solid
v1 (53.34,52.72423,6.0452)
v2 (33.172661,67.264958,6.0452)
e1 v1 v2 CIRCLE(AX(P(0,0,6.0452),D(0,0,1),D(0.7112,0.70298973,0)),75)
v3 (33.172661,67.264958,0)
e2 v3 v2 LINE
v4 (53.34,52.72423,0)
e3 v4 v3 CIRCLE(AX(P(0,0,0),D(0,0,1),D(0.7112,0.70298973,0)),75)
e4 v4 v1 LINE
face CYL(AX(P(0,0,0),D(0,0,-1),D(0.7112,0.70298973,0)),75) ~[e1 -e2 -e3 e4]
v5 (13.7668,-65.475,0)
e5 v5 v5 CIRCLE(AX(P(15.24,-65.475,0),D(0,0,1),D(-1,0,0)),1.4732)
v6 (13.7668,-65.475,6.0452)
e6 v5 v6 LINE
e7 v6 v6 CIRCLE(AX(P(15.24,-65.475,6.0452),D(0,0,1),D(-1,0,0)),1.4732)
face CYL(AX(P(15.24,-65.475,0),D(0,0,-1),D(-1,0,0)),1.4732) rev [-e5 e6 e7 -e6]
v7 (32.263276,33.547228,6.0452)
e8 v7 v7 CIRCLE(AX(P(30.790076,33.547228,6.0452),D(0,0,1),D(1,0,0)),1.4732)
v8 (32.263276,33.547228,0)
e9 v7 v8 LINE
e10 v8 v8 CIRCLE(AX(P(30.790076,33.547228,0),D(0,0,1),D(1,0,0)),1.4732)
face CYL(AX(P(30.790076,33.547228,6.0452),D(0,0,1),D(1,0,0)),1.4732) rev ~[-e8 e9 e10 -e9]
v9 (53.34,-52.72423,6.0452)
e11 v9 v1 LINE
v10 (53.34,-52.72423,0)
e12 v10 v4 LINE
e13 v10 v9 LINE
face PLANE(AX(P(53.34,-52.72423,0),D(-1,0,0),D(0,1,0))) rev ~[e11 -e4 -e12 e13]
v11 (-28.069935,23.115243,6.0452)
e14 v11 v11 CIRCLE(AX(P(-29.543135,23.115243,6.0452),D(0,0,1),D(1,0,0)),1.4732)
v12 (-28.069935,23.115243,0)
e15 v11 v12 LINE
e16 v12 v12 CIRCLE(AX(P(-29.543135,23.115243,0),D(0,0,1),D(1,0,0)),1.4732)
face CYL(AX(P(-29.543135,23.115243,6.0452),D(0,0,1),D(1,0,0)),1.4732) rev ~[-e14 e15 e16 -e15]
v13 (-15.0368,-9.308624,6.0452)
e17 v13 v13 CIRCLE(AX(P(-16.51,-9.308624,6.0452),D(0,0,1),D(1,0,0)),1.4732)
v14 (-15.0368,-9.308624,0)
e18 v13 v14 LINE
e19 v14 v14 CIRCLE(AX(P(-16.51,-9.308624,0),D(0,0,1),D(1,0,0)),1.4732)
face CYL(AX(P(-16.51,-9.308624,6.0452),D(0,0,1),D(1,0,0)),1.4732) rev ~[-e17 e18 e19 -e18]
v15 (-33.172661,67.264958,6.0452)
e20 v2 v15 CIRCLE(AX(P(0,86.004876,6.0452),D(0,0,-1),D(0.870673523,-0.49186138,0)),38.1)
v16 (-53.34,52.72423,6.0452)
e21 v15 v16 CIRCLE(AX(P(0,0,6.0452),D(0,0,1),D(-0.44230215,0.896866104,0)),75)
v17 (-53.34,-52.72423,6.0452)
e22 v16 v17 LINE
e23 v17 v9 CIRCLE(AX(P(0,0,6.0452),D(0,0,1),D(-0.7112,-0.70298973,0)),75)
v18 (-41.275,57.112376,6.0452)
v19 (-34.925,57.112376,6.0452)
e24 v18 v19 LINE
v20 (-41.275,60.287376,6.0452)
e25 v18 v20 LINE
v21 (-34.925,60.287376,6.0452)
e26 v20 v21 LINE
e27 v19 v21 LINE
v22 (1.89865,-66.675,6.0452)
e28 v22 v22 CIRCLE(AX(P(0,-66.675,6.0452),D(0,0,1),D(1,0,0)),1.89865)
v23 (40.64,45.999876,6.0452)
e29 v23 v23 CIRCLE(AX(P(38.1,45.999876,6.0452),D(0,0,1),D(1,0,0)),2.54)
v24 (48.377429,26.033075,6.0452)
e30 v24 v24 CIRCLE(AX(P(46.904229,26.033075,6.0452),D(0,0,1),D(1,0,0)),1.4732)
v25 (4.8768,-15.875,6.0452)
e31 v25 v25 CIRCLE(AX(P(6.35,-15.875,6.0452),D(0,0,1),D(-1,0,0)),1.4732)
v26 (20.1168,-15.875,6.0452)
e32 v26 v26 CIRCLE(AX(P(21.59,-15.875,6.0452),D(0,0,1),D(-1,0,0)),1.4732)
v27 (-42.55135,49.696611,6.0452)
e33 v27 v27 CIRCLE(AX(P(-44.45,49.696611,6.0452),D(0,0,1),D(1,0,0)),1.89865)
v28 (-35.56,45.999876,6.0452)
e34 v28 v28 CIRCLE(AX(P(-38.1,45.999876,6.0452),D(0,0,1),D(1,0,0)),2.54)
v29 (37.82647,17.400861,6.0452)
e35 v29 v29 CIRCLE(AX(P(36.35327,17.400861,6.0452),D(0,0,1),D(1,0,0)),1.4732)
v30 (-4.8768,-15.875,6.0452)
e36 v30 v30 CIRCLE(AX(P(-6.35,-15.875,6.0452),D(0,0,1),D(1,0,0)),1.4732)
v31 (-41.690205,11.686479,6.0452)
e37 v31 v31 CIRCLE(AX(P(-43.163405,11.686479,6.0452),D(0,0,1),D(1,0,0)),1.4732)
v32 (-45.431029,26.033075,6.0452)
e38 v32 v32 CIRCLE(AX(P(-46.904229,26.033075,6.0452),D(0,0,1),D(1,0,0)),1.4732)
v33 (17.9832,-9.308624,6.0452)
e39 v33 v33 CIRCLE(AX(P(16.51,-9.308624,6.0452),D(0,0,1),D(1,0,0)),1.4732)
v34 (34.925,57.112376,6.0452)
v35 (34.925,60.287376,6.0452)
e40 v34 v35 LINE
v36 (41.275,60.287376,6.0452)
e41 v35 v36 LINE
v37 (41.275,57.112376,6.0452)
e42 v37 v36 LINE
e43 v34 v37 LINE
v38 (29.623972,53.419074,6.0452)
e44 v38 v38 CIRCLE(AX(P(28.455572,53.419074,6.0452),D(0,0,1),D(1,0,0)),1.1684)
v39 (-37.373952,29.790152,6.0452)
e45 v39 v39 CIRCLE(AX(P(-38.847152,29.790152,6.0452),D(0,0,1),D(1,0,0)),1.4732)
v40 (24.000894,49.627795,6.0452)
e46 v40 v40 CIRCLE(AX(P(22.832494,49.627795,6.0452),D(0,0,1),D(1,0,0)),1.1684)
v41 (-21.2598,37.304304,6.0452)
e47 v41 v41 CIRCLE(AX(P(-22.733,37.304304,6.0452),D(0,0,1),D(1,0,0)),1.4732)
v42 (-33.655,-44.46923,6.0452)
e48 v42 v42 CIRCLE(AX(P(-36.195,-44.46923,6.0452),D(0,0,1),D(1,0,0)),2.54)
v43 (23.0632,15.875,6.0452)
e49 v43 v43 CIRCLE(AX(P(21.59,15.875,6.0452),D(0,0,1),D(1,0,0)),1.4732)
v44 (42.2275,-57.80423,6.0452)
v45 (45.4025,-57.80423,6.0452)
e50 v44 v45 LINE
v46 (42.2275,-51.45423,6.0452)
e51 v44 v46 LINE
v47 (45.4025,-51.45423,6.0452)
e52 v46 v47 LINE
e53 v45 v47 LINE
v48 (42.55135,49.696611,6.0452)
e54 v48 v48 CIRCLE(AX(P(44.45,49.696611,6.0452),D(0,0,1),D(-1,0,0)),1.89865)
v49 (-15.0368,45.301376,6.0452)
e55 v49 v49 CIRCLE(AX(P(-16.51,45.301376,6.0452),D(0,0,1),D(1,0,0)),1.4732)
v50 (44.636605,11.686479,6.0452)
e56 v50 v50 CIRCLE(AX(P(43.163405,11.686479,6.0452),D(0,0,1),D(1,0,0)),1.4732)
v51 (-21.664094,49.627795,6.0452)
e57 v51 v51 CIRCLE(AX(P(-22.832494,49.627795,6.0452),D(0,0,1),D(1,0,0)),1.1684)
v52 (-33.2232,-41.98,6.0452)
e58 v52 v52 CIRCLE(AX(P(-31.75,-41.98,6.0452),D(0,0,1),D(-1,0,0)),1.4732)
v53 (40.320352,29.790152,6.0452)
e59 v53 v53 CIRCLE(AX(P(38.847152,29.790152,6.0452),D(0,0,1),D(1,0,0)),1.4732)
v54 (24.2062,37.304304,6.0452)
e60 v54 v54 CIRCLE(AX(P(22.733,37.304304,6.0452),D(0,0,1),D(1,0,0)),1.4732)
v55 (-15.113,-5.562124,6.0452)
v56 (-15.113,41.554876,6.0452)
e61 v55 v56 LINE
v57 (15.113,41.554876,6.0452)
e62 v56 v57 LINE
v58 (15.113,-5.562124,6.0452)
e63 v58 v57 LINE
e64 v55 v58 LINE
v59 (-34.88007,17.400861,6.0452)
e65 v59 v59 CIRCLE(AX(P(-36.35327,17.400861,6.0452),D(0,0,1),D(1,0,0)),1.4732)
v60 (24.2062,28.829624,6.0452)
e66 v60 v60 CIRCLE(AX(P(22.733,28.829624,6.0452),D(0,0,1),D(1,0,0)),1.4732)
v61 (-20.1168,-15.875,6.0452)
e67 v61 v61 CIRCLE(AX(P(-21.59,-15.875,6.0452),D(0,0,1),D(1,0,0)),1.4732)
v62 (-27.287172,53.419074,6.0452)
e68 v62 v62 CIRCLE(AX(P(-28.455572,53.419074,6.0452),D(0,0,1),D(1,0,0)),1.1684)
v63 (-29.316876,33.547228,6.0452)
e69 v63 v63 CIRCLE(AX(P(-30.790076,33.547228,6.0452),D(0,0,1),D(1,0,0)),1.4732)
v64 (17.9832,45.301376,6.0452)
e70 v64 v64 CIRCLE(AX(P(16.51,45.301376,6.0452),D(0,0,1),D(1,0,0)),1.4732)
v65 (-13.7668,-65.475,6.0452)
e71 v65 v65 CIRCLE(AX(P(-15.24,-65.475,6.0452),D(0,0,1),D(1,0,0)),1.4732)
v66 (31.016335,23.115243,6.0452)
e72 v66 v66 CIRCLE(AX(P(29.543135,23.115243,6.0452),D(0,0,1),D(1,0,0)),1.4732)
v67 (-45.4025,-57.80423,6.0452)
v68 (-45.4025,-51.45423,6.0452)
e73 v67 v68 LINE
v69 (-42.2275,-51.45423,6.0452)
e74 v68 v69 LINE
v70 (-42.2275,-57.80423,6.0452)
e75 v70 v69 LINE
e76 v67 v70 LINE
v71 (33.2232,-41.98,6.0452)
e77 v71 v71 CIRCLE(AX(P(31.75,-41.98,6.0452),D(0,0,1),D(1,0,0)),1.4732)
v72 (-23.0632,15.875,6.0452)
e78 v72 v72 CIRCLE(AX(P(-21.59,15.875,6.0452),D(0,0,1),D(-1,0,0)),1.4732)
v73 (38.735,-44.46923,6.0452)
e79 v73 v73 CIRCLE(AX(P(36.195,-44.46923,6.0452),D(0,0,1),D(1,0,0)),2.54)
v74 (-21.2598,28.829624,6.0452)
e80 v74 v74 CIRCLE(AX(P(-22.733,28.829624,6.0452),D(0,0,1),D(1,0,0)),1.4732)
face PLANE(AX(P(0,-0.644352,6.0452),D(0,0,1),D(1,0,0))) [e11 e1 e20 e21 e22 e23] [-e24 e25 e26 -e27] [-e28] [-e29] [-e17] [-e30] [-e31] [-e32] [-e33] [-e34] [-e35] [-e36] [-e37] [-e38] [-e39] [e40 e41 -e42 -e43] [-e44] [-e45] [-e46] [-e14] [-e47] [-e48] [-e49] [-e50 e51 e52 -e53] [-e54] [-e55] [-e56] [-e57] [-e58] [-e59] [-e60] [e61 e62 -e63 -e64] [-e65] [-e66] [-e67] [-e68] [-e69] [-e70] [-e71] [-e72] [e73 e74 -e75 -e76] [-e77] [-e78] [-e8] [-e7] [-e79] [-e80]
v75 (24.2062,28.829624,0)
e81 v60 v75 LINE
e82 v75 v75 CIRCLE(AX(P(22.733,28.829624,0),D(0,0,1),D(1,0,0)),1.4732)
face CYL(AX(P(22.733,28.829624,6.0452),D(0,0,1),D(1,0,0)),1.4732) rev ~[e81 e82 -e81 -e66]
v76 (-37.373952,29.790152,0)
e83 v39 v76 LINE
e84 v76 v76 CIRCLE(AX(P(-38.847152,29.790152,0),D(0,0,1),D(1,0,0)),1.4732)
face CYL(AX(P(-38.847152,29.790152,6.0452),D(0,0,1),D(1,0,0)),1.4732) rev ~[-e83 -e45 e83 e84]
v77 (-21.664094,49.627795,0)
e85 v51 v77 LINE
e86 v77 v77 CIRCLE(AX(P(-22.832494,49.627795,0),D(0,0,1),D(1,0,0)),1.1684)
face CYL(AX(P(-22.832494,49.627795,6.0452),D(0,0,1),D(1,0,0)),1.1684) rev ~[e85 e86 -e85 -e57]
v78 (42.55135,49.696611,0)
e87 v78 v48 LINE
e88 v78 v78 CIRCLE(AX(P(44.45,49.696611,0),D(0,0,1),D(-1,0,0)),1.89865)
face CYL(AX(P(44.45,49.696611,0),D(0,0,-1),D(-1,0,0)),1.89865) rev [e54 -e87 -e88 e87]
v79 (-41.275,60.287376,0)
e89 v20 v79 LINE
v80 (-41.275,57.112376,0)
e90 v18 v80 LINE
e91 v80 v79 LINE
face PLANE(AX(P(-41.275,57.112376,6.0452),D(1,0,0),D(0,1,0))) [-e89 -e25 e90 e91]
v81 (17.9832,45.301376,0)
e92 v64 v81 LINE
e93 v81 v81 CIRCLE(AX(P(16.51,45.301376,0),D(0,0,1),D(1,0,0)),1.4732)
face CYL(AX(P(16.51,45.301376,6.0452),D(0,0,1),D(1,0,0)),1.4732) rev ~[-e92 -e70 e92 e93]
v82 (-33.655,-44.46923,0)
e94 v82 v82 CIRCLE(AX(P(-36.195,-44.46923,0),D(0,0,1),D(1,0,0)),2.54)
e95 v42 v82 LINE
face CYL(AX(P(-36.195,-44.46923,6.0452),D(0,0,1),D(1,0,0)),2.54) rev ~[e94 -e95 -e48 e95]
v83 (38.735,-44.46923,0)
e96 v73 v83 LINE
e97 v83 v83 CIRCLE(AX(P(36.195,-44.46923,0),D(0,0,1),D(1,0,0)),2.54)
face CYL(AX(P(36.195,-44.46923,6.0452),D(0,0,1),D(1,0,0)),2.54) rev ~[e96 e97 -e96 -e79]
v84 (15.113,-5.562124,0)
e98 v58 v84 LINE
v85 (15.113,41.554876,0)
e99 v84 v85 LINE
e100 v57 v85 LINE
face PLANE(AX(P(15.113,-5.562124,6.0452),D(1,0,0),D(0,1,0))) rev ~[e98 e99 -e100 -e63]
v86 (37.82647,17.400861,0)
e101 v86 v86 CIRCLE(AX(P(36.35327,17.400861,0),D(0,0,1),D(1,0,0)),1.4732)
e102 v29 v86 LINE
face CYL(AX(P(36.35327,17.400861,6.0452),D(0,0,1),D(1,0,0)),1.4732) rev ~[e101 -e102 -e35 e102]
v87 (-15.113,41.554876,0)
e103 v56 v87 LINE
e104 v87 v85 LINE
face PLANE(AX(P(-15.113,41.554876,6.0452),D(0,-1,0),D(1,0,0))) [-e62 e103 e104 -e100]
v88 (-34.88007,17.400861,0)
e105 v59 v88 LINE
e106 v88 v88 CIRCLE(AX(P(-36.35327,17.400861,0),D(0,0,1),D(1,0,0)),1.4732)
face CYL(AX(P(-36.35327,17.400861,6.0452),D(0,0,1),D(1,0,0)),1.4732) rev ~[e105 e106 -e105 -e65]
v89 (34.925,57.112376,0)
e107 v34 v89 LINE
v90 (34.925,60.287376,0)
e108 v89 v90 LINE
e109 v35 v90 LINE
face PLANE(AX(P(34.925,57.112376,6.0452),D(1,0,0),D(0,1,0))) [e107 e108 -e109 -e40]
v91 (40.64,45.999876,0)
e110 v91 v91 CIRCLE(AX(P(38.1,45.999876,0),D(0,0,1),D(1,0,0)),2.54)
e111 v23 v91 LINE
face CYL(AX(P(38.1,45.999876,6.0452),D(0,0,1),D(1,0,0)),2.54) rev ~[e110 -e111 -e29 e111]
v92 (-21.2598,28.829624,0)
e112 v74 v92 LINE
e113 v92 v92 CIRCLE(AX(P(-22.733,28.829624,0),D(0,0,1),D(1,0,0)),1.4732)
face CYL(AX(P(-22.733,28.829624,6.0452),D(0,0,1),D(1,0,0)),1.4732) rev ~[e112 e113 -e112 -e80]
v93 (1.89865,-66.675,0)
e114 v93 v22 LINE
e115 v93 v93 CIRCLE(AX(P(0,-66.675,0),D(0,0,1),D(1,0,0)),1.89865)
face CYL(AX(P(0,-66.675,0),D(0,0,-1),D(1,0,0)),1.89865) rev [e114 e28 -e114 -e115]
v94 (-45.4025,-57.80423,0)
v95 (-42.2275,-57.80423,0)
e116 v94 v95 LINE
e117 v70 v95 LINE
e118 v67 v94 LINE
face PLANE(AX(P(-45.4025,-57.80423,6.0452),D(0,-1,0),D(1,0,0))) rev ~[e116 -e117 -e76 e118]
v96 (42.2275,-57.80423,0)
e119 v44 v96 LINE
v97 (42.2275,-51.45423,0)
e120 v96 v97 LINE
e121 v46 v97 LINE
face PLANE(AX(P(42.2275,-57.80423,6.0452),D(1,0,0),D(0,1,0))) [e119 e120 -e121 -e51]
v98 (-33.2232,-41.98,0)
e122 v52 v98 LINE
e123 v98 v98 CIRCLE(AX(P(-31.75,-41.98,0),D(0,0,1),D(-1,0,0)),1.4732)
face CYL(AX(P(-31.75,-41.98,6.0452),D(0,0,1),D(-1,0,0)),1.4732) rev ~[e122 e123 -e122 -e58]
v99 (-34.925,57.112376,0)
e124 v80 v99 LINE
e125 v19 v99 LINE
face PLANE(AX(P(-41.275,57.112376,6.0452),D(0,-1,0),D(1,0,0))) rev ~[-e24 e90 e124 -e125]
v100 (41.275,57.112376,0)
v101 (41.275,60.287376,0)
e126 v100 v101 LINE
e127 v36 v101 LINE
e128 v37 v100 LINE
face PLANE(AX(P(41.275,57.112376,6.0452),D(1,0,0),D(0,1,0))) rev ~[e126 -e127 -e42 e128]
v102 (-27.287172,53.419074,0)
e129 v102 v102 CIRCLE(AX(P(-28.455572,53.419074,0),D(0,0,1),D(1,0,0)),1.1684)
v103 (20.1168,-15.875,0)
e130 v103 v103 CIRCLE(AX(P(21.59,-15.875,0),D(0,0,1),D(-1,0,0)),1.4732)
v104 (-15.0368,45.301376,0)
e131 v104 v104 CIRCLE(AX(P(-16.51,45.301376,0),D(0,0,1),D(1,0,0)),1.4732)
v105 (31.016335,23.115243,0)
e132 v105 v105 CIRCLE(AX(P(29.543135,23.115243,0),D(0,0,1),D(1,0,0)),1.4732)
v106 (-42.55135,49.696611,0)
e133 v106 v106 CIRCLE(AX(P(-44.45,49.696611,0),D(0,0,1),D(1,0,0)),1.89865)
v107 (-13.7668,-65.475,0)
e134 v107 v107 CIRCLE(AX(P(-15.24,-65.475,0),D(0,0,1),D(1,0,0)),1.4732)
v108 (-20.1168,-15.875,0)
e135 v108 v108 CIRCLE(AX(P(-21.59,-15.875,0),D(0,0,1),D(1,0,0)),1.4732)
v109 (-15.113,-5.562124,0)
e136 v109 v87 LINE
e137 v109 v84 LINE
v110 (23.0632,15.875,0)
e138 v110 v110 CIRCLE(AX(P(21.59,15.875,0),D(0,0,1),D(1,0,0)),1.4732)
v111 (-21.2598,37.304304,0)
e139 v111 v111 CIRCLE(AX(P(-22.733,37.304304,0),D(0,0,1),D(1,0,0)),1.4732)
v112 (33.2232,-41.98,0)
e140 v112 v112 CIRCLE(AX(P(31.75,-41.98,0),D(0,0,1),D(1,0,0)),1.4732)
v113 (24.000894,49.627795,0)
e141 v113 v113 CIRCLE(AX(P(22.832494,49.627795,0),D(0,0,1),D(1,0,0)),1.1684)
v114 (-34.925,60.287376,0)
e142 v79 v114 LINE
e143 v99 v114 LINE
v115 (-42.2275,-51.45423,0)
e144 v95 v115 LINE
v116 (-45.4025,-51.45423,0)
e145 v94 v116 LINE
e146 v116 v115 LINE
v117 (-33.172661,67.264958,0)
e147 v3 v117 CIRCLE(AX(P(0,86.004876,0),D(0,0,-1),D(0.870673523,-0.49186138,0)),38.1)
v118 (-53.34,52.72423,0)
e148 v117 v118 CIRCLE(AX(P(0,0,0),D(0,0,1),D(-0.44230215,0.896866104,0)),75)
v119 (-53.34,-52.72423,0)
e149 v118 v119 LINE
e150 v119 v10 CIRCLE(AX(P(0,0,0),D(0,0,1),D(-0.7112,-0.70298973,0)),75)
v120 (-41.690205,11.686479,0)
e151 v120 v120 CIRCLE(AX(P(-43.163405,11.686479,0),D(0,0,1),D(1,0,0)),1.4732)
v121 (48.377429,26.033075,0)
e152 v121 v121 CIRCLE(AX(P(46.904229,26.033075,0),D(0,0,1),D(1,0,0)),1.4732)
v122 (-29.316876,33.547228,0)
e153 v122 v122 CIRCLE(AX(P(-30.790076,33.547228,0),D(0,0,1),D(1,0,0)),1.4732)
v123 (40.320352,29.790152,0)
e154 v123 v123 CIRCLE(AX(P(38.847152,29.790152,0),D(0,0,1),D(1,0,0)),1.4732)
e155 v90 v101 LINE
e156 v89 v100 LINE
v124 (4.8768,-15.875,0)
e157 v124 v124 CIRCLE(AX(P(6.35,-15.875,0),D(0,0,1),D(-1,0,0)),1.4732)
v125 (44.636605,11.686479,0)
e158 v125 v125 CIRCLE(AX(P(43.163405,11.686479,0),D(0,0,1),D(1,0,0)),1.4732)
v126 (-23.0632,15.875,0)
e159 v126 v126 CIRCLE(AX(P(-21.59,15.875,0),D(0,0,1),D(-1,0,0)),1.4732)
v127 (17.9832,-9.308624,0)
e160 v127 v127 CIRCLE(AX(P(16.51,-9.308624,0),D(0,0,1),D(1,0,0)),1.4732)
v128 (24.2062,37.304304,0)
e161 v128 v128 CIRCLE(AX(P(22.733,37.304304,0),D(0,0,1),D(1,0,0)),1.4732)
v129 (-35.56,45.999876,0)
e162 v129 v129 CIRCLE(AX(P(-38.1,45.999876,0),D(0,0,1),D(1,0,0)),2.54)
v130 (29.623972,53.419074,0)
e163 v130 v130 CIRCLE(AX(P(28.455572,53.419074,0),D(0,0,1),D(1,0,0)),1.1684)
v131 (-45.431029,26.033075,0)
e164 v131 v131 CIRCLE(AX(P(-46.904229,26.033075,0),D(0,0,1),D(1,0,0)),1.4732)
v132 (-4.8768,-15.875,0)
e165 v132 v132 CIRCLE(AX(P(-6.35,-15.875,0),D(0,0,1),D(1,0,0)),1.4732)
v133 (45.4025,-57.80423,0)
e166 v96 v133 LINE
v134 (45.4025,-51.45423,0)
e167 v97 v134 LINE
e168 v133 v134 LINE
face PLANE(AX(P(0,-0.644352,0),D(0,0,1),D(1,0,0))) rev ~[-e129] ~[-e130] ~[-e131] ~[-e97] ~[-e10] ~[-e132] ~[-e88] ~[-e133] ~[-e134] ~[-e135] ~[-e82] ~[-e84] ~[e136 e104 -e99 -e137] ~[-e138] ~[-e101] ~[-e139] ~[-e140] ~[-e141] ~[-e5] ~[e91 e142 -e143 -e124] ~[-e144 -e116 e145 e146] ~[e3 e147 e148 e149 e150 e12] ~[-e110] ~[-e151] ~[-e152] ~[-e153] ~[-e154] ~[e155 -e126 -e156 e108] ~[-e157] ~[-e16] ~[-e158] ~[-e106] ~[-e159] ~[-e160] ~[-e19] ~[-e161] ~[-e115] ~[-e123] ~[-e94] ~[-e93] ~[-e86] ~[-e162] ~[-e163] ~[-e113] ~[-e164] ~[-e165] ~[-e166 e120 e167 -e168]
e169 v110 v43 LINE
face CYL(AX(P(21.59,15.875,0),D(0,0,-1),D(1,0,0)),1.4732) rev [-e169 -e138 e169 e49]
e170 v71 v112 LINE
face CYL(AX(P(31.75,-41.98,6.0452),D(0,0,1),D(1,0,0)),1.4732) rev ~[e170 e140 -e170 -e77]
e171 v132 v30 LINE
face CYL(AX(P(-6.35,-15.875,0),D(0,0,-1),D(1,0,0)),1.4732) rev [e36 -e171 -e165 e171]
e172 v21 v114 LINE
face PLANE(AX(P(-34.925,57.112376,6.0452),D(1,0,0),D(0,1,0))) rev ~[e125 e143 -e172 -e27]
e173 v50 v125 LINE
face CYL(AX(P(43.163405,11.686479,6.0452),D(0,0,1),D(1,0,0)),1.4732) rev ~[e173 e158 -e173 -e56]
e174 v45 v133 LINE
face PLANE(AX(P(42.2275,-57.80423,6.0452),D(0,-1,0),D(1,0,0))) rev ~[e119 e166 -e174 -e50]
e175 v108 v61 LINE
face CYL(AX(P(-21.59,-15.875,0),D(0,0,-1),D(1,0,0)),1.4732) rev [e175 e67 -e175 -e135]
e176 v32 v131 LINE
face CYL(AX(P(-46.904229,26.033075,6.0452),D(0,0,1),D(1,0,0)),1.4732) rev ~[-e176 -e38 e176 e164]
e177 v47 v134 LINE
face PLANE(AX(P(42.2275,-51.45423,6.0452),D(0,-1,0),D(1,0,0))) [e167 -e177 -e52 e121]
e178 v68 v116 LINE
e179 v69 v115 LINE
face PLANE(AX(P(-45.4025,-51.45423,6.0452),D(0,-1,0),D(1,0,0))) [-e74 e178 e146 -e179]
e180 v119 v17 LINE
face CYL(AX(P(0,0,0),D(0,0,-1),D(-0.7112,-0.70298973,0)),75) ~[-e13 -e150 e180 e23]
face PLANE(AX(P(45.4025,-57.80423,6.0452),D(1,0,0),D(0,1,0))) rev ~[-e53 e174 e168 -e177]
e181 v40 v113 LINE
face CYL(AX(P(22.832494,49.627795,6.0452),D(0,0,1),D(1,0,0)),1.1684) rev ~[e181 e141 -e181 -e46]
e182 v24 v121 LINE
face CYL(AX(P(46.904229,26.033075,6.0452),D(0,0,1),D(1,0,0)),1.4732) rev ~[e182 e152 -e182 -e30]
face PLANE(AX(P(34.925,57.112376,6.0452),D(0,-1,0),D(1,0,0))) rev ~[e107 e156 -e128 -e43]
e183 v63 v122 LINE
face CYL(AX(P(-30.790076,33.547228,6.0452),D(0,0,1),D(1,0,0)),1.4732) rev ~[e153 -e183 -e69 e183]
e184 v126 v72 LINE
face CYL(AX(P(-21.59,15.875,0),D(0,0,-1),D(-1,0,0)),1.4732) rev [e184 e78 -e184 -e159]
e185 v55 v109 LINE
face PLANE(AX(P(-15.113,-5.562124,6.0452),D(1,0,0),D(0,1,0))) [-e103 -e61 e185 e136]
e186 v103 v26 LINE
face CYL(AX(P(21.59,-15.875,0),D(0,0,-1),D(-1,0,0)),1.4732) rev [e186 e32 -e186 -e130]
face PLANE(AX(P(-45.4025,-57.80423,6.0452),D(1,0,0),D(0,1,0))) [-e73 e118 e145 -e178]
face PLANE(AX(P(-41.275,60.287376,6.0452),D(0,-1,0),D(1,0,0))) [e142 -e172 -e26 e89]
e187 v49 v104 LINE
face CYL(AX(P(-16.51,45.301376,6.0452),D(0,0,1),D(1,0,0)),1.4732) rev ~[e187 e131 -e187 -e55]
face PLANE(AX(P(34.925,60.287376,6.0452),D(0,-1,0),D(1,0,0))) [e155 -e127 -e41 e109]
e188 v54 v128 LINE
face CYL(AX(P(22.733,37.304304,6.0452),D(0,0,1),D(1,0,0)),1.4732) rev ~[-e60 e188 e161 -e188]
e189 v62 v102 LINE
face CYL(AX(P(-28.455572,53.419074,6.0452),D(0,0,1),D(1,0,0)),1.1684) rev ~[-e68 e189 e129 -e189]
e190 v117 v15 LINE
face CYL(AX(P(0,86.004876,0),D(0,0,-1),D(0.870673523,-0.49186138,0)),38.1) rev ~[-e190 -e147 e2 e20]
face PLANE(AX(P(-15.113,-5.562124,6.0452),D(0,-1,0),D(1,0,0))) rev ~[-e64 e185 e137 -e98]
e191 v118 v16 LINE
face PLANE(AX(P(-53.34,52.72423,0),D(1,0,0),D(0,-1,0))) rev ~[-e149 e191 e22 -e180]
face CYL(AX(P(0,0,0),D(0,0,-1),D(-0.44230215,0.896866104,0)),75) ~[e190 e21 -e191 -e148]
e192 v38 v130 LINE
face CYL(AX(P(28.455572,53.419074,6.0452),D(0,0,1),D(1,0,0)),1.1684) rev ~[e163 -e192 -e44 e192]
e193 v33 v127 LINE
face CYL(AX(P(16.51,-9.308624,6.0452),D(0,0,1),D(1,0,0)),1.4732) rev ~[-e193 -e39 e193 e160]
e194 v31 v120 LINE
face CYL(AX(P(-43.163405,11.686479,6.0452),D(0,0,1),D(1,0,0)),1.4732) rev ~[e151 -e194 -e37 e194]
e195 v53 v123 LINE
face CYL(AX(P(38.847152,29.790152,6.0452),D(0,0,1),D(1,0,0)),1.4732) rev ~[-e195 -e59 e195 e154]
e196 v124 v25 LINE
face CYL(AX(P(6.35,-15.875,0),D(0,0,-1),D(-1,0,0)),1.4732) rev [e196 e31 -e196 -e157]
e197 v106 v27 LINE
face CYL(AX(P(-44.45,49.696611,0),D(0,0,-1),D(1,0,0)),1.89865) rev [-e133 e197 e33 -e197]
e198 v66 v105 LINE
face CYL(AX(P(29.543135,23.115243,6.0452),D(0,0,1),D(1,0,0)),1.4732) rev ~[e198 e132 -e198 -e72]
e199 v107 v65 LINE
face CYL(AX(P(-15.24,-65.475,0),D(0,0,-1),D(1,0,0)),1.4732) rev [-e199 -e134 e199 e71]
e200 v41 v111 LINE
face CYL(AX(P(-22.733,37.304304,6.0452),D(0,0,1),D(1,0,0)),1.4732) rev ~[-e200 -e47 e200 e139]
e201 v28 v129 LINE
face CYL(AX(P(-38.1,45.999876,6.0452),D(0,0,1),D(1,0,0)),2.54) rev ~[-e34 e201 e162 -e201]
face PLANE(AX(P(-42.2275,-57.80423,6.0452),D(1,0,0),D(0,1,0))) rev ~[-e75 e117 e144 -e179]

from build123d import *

# Parameters (mm, degrees)
SKETCH1_R           = 1.89865
SKETCH1_R_2         = 1.4732
BOSS_EXTRUDE3_DEPTH = 6.0452
SKETCH7_R           = 1.4732
CUT_EXTRUDE2_DEPTH  = 93.2317735
SKETCH9_R           = 1.4732
SKETCH9_W           = 30.226
SKETCH9_H           = 47.117
CUT_EXTRUDE3_DEPTH  = 14.732
SKETCH10_R          = 2.54
SKETCH10_W          = 6.35
SKETCH10_H          = 3.175
SKETCH10_W_2        = 3.175
SKETCH10_H_2        = 6.35
CUT_EXTRUDE4_DEPTH  = 6.0452
SKETCH12_R          = 1.4732
CUT_EXTRUDE5_DEPTH  = 6.0452
SKETCH13_R          = 1.1684
CUT_EXTRUDE6_DEPTH  = 6.0452


with BuildPart() as part:
    # Sketch1 → Boss-Extrude3 (new body)
    with BuildSketch(Plane.XY):
        with BuildLine():
            Line((-53.34, 52.724229724), (-53.34, -52.724229724))
            ThreePointArc((-53.34, -52.724229724), (0, -75), (53.34, -52.724229724))
            Line((53.34, -52.724229724), (53.34, 52.724229724))
            ThreePointArc((53.34, 52.724229724), (43.863063402, 60.836104979), (33.172661219, 67.264957799))
            ThreePointArc((33.172661219, 67.264957799), (0, 47.904876359), (-33.172661219, 67.264957799))
            ThreePointArc((-33.172661219, 67.264957799), (-43.863063402, 60.836104979), (-53.34, 52.724229724))
        make_face()
        with Locations((0, -66.675)):
            Circle(SKETCH1_R, mode=Mode.SUBTRACT)
        with Locations((-44.45, 49.6966108)):
            Circle(SKETCH1_R, mode=Mode.SUBTRACT)
        with Locations(Location((44.45, 49.6966108, 0), (0, 0, 180))):
            Circle(SKETCH1_R, mode=Mode.SUBTRACT)
        with Locations((-21.59, -15.875)):
            Circle(SKETCH1_R_2, mode=Mode.SUBTRACT)
        with Locations((-6.35, -15.875)):
            Circle(SKETCH1_R_2, mode=Mode.SUBTRACT)
        with Locations(Location((6.35, -15.875, 0), (0, 0, 180))):
            Circle(SKETCH1_R_2, mode=Mode.SUBTRACT)
        with Locations((-15.24, -65.475)):
            Circle(SKETCH1_R_2, mode=Mode.SUBTRACT)
        with Locations(Location((15.24, -65.475, 0), (0, 0, 180))):
            Circle(SKETCH1_R_2, mode=Mode.SUBTRACT)
        with Locations(Location((21.59, -15.875, 0), (0, 0, 180))):
            Circle(SKETCH1_R_2, mode=Mode.SUBTRACT)
        with Locations((6.35, 15.875)):
            Circle(SKETCH1_R_2, mode=Mode.SUBTRACT)
        with Locations(Location((-6.35, 15.875, 0), (0, 0, 180))):
            Circle(SKETCH1_R_2, mode=Mode.SUBTRACT)
        with Locations((21.59, 15.875)):
            Circle(SKETCH1_R_2, mode=Mode.SUBTRACT)
        with Locations(Location((-21.59, 15.875, 0), (0, 0, 180))):
            Circle(SKETCH1_R_2, mode=Mode.SUBTRACT)
    extrude(amount=BOSS_EXTRUDE3_DEPTH)

    # Sketch7 → Cut-Extrude2 (cut, through all)
    with BuildSketch(Plane.XY.offset(6.0452)):
        with Locations(Location((-31.75, -41.98, 0), (0, 0, 180))):
            Circle(SKETCH7_R)
        with Locations((31.75, -41.98)):
            Circle(SKETCH7_R)
    extrude(amount=-CUT_EXTRUDE2_DEPTH, mode=Mode.SUBTRACT)

    # Sketch9 → Cut-Extrude3 (cut)
    with BuildSketch(Plane.XY.offset(6.0452)):
        with Locations((-16.51, 45.301376359)):
            Circle(SKETCH9_R)
        with Locations((16.51, 45.301376359)):
            Circle(SKETCH9_R)
        with Locations((-16.51, -9.308623641)):
            Circle(SKETCH9_R)
        with Locations((16.51, -9.308623641)):
            Circle(SKETCH9_R)
        with Locations((0, 17.996376359)):
            Rectangle(SKETCH9_W, SKETCH9_H)
    extrude(amount=-CUT_EXTRUDE3_DEPTH, mode=Mode.SUBTRACT)

    # Sketch10 → Cut-Extrude4 (cut)
    with BuildSketch(Plane.XY.offset(6.0452)):
        with Locations((-36.195, -44.469229724)):
            Circle(SKETCH10_R)
        with Locations((36.195, -44.469229724)):
            Circle(SKETCH10_R)
        with Locations((-38.1, 45.999876359)):
            Circle(SKETCH10_R)
        with Locations((38.1, 45.999876359)):
            Circle(SKETCH10_R)
        with Locations((-38.1, 58.699876359)):
            Rectangle(SKETCH10_W, SKETCH10_H)
        with Locations((38.1, 58.699876359)):
            Rectangle(SKETCH10_W, SKETCH10_H)
        with Locations((-43.815, -54.629229724)):
            Rectangle(SKETCH10_W_2, SKETCH10_H_2)
        with Locations((43.815, -54.629229724)):
            Rectangle(SKETCH10_W_2, SKETCH10_H_2)
    extrude(amount=-CUT_EXTRUDE4_DEPTH, mode=Mode.SUBTRACT)

    # Sketch12 → Cut-Extrude5 (cut)
    with BuildSketch(Plane.XY.offset(6.0452)):
        with Locations((22.733, 37.304304366)):
            Circle(SKETCH12_R)
        with Locations((30.790076227, 33.547228019)):
            Circle(SKETCH12_R)
        with Locations((38.847152454, 29.790151672)):
            Circle(SKETCH12_R)
        with Locations((46.90422868, 26.033075325)):
            Circle(SKETCH12_R)
        with Locations((22.733, 28.829624443)):
            Circle(SKETCH12_R)
        with Locations((29.543135099, 23.115242593)):
            Circle(SKETCH12_R)
        with Locations((36.353270199, 17.400860743)):
            Circle(SKETCH12_R)
        with Locations((43.163405298, 11.686478893)):
            Circle(SKETCH12_R)
        with Locations((-43.163405298, 11.686478893)):
            Circle(SKETCH12_R)
        with Locations((-36.353270199, 17.400860743)):
            Circle(SKETCH12_R)
        with Locations((-29.543135099, 23.115242593)):
            Circle(SKETCH12_R)
        with Locations((-22.733, 28.829624443)):
            Circle(SKETCH12_R)
        with Locations((-46.90422868, 26.033075325)):
            Circle(SKETCH12_R)
        with Locations((-38.847152454, 29.790151672)):
            Circle(SKETCH12_R)
        with Locations((-30.790076227, 33.547228019)):
            Circle(SKETCH12_R)
        with Locations((-22.733, 37.304304366)):
            Circle(SKETCH12_R)
    extrude(amount=-CUT_EXTRUDE5_DEPTH, mode=Mode.SUBTRACT)

    # Sketch13 → Cut-Extrude6 (cut)
    with BuildSketch(Plane.XY.offset(6.0452)):
        with Locations((22.832493661, 49.627795037)):
            Circle(SKETCH13_R)
        with Locations((-22.832493661, 49.627795037)):
            Circle(SKETCH13_R)
        with Locations((-28.455572264, 53.419074276)):
            Circle(SKETCH13_R)
        with Locations((28.455572264, 53.419074276)):
            Circle(SKETCH13_R)
    extrude(amount=-CUT_EXTRUDE6_DEPTH, mode=Mode.SUBTRACT)


solid = part.part
